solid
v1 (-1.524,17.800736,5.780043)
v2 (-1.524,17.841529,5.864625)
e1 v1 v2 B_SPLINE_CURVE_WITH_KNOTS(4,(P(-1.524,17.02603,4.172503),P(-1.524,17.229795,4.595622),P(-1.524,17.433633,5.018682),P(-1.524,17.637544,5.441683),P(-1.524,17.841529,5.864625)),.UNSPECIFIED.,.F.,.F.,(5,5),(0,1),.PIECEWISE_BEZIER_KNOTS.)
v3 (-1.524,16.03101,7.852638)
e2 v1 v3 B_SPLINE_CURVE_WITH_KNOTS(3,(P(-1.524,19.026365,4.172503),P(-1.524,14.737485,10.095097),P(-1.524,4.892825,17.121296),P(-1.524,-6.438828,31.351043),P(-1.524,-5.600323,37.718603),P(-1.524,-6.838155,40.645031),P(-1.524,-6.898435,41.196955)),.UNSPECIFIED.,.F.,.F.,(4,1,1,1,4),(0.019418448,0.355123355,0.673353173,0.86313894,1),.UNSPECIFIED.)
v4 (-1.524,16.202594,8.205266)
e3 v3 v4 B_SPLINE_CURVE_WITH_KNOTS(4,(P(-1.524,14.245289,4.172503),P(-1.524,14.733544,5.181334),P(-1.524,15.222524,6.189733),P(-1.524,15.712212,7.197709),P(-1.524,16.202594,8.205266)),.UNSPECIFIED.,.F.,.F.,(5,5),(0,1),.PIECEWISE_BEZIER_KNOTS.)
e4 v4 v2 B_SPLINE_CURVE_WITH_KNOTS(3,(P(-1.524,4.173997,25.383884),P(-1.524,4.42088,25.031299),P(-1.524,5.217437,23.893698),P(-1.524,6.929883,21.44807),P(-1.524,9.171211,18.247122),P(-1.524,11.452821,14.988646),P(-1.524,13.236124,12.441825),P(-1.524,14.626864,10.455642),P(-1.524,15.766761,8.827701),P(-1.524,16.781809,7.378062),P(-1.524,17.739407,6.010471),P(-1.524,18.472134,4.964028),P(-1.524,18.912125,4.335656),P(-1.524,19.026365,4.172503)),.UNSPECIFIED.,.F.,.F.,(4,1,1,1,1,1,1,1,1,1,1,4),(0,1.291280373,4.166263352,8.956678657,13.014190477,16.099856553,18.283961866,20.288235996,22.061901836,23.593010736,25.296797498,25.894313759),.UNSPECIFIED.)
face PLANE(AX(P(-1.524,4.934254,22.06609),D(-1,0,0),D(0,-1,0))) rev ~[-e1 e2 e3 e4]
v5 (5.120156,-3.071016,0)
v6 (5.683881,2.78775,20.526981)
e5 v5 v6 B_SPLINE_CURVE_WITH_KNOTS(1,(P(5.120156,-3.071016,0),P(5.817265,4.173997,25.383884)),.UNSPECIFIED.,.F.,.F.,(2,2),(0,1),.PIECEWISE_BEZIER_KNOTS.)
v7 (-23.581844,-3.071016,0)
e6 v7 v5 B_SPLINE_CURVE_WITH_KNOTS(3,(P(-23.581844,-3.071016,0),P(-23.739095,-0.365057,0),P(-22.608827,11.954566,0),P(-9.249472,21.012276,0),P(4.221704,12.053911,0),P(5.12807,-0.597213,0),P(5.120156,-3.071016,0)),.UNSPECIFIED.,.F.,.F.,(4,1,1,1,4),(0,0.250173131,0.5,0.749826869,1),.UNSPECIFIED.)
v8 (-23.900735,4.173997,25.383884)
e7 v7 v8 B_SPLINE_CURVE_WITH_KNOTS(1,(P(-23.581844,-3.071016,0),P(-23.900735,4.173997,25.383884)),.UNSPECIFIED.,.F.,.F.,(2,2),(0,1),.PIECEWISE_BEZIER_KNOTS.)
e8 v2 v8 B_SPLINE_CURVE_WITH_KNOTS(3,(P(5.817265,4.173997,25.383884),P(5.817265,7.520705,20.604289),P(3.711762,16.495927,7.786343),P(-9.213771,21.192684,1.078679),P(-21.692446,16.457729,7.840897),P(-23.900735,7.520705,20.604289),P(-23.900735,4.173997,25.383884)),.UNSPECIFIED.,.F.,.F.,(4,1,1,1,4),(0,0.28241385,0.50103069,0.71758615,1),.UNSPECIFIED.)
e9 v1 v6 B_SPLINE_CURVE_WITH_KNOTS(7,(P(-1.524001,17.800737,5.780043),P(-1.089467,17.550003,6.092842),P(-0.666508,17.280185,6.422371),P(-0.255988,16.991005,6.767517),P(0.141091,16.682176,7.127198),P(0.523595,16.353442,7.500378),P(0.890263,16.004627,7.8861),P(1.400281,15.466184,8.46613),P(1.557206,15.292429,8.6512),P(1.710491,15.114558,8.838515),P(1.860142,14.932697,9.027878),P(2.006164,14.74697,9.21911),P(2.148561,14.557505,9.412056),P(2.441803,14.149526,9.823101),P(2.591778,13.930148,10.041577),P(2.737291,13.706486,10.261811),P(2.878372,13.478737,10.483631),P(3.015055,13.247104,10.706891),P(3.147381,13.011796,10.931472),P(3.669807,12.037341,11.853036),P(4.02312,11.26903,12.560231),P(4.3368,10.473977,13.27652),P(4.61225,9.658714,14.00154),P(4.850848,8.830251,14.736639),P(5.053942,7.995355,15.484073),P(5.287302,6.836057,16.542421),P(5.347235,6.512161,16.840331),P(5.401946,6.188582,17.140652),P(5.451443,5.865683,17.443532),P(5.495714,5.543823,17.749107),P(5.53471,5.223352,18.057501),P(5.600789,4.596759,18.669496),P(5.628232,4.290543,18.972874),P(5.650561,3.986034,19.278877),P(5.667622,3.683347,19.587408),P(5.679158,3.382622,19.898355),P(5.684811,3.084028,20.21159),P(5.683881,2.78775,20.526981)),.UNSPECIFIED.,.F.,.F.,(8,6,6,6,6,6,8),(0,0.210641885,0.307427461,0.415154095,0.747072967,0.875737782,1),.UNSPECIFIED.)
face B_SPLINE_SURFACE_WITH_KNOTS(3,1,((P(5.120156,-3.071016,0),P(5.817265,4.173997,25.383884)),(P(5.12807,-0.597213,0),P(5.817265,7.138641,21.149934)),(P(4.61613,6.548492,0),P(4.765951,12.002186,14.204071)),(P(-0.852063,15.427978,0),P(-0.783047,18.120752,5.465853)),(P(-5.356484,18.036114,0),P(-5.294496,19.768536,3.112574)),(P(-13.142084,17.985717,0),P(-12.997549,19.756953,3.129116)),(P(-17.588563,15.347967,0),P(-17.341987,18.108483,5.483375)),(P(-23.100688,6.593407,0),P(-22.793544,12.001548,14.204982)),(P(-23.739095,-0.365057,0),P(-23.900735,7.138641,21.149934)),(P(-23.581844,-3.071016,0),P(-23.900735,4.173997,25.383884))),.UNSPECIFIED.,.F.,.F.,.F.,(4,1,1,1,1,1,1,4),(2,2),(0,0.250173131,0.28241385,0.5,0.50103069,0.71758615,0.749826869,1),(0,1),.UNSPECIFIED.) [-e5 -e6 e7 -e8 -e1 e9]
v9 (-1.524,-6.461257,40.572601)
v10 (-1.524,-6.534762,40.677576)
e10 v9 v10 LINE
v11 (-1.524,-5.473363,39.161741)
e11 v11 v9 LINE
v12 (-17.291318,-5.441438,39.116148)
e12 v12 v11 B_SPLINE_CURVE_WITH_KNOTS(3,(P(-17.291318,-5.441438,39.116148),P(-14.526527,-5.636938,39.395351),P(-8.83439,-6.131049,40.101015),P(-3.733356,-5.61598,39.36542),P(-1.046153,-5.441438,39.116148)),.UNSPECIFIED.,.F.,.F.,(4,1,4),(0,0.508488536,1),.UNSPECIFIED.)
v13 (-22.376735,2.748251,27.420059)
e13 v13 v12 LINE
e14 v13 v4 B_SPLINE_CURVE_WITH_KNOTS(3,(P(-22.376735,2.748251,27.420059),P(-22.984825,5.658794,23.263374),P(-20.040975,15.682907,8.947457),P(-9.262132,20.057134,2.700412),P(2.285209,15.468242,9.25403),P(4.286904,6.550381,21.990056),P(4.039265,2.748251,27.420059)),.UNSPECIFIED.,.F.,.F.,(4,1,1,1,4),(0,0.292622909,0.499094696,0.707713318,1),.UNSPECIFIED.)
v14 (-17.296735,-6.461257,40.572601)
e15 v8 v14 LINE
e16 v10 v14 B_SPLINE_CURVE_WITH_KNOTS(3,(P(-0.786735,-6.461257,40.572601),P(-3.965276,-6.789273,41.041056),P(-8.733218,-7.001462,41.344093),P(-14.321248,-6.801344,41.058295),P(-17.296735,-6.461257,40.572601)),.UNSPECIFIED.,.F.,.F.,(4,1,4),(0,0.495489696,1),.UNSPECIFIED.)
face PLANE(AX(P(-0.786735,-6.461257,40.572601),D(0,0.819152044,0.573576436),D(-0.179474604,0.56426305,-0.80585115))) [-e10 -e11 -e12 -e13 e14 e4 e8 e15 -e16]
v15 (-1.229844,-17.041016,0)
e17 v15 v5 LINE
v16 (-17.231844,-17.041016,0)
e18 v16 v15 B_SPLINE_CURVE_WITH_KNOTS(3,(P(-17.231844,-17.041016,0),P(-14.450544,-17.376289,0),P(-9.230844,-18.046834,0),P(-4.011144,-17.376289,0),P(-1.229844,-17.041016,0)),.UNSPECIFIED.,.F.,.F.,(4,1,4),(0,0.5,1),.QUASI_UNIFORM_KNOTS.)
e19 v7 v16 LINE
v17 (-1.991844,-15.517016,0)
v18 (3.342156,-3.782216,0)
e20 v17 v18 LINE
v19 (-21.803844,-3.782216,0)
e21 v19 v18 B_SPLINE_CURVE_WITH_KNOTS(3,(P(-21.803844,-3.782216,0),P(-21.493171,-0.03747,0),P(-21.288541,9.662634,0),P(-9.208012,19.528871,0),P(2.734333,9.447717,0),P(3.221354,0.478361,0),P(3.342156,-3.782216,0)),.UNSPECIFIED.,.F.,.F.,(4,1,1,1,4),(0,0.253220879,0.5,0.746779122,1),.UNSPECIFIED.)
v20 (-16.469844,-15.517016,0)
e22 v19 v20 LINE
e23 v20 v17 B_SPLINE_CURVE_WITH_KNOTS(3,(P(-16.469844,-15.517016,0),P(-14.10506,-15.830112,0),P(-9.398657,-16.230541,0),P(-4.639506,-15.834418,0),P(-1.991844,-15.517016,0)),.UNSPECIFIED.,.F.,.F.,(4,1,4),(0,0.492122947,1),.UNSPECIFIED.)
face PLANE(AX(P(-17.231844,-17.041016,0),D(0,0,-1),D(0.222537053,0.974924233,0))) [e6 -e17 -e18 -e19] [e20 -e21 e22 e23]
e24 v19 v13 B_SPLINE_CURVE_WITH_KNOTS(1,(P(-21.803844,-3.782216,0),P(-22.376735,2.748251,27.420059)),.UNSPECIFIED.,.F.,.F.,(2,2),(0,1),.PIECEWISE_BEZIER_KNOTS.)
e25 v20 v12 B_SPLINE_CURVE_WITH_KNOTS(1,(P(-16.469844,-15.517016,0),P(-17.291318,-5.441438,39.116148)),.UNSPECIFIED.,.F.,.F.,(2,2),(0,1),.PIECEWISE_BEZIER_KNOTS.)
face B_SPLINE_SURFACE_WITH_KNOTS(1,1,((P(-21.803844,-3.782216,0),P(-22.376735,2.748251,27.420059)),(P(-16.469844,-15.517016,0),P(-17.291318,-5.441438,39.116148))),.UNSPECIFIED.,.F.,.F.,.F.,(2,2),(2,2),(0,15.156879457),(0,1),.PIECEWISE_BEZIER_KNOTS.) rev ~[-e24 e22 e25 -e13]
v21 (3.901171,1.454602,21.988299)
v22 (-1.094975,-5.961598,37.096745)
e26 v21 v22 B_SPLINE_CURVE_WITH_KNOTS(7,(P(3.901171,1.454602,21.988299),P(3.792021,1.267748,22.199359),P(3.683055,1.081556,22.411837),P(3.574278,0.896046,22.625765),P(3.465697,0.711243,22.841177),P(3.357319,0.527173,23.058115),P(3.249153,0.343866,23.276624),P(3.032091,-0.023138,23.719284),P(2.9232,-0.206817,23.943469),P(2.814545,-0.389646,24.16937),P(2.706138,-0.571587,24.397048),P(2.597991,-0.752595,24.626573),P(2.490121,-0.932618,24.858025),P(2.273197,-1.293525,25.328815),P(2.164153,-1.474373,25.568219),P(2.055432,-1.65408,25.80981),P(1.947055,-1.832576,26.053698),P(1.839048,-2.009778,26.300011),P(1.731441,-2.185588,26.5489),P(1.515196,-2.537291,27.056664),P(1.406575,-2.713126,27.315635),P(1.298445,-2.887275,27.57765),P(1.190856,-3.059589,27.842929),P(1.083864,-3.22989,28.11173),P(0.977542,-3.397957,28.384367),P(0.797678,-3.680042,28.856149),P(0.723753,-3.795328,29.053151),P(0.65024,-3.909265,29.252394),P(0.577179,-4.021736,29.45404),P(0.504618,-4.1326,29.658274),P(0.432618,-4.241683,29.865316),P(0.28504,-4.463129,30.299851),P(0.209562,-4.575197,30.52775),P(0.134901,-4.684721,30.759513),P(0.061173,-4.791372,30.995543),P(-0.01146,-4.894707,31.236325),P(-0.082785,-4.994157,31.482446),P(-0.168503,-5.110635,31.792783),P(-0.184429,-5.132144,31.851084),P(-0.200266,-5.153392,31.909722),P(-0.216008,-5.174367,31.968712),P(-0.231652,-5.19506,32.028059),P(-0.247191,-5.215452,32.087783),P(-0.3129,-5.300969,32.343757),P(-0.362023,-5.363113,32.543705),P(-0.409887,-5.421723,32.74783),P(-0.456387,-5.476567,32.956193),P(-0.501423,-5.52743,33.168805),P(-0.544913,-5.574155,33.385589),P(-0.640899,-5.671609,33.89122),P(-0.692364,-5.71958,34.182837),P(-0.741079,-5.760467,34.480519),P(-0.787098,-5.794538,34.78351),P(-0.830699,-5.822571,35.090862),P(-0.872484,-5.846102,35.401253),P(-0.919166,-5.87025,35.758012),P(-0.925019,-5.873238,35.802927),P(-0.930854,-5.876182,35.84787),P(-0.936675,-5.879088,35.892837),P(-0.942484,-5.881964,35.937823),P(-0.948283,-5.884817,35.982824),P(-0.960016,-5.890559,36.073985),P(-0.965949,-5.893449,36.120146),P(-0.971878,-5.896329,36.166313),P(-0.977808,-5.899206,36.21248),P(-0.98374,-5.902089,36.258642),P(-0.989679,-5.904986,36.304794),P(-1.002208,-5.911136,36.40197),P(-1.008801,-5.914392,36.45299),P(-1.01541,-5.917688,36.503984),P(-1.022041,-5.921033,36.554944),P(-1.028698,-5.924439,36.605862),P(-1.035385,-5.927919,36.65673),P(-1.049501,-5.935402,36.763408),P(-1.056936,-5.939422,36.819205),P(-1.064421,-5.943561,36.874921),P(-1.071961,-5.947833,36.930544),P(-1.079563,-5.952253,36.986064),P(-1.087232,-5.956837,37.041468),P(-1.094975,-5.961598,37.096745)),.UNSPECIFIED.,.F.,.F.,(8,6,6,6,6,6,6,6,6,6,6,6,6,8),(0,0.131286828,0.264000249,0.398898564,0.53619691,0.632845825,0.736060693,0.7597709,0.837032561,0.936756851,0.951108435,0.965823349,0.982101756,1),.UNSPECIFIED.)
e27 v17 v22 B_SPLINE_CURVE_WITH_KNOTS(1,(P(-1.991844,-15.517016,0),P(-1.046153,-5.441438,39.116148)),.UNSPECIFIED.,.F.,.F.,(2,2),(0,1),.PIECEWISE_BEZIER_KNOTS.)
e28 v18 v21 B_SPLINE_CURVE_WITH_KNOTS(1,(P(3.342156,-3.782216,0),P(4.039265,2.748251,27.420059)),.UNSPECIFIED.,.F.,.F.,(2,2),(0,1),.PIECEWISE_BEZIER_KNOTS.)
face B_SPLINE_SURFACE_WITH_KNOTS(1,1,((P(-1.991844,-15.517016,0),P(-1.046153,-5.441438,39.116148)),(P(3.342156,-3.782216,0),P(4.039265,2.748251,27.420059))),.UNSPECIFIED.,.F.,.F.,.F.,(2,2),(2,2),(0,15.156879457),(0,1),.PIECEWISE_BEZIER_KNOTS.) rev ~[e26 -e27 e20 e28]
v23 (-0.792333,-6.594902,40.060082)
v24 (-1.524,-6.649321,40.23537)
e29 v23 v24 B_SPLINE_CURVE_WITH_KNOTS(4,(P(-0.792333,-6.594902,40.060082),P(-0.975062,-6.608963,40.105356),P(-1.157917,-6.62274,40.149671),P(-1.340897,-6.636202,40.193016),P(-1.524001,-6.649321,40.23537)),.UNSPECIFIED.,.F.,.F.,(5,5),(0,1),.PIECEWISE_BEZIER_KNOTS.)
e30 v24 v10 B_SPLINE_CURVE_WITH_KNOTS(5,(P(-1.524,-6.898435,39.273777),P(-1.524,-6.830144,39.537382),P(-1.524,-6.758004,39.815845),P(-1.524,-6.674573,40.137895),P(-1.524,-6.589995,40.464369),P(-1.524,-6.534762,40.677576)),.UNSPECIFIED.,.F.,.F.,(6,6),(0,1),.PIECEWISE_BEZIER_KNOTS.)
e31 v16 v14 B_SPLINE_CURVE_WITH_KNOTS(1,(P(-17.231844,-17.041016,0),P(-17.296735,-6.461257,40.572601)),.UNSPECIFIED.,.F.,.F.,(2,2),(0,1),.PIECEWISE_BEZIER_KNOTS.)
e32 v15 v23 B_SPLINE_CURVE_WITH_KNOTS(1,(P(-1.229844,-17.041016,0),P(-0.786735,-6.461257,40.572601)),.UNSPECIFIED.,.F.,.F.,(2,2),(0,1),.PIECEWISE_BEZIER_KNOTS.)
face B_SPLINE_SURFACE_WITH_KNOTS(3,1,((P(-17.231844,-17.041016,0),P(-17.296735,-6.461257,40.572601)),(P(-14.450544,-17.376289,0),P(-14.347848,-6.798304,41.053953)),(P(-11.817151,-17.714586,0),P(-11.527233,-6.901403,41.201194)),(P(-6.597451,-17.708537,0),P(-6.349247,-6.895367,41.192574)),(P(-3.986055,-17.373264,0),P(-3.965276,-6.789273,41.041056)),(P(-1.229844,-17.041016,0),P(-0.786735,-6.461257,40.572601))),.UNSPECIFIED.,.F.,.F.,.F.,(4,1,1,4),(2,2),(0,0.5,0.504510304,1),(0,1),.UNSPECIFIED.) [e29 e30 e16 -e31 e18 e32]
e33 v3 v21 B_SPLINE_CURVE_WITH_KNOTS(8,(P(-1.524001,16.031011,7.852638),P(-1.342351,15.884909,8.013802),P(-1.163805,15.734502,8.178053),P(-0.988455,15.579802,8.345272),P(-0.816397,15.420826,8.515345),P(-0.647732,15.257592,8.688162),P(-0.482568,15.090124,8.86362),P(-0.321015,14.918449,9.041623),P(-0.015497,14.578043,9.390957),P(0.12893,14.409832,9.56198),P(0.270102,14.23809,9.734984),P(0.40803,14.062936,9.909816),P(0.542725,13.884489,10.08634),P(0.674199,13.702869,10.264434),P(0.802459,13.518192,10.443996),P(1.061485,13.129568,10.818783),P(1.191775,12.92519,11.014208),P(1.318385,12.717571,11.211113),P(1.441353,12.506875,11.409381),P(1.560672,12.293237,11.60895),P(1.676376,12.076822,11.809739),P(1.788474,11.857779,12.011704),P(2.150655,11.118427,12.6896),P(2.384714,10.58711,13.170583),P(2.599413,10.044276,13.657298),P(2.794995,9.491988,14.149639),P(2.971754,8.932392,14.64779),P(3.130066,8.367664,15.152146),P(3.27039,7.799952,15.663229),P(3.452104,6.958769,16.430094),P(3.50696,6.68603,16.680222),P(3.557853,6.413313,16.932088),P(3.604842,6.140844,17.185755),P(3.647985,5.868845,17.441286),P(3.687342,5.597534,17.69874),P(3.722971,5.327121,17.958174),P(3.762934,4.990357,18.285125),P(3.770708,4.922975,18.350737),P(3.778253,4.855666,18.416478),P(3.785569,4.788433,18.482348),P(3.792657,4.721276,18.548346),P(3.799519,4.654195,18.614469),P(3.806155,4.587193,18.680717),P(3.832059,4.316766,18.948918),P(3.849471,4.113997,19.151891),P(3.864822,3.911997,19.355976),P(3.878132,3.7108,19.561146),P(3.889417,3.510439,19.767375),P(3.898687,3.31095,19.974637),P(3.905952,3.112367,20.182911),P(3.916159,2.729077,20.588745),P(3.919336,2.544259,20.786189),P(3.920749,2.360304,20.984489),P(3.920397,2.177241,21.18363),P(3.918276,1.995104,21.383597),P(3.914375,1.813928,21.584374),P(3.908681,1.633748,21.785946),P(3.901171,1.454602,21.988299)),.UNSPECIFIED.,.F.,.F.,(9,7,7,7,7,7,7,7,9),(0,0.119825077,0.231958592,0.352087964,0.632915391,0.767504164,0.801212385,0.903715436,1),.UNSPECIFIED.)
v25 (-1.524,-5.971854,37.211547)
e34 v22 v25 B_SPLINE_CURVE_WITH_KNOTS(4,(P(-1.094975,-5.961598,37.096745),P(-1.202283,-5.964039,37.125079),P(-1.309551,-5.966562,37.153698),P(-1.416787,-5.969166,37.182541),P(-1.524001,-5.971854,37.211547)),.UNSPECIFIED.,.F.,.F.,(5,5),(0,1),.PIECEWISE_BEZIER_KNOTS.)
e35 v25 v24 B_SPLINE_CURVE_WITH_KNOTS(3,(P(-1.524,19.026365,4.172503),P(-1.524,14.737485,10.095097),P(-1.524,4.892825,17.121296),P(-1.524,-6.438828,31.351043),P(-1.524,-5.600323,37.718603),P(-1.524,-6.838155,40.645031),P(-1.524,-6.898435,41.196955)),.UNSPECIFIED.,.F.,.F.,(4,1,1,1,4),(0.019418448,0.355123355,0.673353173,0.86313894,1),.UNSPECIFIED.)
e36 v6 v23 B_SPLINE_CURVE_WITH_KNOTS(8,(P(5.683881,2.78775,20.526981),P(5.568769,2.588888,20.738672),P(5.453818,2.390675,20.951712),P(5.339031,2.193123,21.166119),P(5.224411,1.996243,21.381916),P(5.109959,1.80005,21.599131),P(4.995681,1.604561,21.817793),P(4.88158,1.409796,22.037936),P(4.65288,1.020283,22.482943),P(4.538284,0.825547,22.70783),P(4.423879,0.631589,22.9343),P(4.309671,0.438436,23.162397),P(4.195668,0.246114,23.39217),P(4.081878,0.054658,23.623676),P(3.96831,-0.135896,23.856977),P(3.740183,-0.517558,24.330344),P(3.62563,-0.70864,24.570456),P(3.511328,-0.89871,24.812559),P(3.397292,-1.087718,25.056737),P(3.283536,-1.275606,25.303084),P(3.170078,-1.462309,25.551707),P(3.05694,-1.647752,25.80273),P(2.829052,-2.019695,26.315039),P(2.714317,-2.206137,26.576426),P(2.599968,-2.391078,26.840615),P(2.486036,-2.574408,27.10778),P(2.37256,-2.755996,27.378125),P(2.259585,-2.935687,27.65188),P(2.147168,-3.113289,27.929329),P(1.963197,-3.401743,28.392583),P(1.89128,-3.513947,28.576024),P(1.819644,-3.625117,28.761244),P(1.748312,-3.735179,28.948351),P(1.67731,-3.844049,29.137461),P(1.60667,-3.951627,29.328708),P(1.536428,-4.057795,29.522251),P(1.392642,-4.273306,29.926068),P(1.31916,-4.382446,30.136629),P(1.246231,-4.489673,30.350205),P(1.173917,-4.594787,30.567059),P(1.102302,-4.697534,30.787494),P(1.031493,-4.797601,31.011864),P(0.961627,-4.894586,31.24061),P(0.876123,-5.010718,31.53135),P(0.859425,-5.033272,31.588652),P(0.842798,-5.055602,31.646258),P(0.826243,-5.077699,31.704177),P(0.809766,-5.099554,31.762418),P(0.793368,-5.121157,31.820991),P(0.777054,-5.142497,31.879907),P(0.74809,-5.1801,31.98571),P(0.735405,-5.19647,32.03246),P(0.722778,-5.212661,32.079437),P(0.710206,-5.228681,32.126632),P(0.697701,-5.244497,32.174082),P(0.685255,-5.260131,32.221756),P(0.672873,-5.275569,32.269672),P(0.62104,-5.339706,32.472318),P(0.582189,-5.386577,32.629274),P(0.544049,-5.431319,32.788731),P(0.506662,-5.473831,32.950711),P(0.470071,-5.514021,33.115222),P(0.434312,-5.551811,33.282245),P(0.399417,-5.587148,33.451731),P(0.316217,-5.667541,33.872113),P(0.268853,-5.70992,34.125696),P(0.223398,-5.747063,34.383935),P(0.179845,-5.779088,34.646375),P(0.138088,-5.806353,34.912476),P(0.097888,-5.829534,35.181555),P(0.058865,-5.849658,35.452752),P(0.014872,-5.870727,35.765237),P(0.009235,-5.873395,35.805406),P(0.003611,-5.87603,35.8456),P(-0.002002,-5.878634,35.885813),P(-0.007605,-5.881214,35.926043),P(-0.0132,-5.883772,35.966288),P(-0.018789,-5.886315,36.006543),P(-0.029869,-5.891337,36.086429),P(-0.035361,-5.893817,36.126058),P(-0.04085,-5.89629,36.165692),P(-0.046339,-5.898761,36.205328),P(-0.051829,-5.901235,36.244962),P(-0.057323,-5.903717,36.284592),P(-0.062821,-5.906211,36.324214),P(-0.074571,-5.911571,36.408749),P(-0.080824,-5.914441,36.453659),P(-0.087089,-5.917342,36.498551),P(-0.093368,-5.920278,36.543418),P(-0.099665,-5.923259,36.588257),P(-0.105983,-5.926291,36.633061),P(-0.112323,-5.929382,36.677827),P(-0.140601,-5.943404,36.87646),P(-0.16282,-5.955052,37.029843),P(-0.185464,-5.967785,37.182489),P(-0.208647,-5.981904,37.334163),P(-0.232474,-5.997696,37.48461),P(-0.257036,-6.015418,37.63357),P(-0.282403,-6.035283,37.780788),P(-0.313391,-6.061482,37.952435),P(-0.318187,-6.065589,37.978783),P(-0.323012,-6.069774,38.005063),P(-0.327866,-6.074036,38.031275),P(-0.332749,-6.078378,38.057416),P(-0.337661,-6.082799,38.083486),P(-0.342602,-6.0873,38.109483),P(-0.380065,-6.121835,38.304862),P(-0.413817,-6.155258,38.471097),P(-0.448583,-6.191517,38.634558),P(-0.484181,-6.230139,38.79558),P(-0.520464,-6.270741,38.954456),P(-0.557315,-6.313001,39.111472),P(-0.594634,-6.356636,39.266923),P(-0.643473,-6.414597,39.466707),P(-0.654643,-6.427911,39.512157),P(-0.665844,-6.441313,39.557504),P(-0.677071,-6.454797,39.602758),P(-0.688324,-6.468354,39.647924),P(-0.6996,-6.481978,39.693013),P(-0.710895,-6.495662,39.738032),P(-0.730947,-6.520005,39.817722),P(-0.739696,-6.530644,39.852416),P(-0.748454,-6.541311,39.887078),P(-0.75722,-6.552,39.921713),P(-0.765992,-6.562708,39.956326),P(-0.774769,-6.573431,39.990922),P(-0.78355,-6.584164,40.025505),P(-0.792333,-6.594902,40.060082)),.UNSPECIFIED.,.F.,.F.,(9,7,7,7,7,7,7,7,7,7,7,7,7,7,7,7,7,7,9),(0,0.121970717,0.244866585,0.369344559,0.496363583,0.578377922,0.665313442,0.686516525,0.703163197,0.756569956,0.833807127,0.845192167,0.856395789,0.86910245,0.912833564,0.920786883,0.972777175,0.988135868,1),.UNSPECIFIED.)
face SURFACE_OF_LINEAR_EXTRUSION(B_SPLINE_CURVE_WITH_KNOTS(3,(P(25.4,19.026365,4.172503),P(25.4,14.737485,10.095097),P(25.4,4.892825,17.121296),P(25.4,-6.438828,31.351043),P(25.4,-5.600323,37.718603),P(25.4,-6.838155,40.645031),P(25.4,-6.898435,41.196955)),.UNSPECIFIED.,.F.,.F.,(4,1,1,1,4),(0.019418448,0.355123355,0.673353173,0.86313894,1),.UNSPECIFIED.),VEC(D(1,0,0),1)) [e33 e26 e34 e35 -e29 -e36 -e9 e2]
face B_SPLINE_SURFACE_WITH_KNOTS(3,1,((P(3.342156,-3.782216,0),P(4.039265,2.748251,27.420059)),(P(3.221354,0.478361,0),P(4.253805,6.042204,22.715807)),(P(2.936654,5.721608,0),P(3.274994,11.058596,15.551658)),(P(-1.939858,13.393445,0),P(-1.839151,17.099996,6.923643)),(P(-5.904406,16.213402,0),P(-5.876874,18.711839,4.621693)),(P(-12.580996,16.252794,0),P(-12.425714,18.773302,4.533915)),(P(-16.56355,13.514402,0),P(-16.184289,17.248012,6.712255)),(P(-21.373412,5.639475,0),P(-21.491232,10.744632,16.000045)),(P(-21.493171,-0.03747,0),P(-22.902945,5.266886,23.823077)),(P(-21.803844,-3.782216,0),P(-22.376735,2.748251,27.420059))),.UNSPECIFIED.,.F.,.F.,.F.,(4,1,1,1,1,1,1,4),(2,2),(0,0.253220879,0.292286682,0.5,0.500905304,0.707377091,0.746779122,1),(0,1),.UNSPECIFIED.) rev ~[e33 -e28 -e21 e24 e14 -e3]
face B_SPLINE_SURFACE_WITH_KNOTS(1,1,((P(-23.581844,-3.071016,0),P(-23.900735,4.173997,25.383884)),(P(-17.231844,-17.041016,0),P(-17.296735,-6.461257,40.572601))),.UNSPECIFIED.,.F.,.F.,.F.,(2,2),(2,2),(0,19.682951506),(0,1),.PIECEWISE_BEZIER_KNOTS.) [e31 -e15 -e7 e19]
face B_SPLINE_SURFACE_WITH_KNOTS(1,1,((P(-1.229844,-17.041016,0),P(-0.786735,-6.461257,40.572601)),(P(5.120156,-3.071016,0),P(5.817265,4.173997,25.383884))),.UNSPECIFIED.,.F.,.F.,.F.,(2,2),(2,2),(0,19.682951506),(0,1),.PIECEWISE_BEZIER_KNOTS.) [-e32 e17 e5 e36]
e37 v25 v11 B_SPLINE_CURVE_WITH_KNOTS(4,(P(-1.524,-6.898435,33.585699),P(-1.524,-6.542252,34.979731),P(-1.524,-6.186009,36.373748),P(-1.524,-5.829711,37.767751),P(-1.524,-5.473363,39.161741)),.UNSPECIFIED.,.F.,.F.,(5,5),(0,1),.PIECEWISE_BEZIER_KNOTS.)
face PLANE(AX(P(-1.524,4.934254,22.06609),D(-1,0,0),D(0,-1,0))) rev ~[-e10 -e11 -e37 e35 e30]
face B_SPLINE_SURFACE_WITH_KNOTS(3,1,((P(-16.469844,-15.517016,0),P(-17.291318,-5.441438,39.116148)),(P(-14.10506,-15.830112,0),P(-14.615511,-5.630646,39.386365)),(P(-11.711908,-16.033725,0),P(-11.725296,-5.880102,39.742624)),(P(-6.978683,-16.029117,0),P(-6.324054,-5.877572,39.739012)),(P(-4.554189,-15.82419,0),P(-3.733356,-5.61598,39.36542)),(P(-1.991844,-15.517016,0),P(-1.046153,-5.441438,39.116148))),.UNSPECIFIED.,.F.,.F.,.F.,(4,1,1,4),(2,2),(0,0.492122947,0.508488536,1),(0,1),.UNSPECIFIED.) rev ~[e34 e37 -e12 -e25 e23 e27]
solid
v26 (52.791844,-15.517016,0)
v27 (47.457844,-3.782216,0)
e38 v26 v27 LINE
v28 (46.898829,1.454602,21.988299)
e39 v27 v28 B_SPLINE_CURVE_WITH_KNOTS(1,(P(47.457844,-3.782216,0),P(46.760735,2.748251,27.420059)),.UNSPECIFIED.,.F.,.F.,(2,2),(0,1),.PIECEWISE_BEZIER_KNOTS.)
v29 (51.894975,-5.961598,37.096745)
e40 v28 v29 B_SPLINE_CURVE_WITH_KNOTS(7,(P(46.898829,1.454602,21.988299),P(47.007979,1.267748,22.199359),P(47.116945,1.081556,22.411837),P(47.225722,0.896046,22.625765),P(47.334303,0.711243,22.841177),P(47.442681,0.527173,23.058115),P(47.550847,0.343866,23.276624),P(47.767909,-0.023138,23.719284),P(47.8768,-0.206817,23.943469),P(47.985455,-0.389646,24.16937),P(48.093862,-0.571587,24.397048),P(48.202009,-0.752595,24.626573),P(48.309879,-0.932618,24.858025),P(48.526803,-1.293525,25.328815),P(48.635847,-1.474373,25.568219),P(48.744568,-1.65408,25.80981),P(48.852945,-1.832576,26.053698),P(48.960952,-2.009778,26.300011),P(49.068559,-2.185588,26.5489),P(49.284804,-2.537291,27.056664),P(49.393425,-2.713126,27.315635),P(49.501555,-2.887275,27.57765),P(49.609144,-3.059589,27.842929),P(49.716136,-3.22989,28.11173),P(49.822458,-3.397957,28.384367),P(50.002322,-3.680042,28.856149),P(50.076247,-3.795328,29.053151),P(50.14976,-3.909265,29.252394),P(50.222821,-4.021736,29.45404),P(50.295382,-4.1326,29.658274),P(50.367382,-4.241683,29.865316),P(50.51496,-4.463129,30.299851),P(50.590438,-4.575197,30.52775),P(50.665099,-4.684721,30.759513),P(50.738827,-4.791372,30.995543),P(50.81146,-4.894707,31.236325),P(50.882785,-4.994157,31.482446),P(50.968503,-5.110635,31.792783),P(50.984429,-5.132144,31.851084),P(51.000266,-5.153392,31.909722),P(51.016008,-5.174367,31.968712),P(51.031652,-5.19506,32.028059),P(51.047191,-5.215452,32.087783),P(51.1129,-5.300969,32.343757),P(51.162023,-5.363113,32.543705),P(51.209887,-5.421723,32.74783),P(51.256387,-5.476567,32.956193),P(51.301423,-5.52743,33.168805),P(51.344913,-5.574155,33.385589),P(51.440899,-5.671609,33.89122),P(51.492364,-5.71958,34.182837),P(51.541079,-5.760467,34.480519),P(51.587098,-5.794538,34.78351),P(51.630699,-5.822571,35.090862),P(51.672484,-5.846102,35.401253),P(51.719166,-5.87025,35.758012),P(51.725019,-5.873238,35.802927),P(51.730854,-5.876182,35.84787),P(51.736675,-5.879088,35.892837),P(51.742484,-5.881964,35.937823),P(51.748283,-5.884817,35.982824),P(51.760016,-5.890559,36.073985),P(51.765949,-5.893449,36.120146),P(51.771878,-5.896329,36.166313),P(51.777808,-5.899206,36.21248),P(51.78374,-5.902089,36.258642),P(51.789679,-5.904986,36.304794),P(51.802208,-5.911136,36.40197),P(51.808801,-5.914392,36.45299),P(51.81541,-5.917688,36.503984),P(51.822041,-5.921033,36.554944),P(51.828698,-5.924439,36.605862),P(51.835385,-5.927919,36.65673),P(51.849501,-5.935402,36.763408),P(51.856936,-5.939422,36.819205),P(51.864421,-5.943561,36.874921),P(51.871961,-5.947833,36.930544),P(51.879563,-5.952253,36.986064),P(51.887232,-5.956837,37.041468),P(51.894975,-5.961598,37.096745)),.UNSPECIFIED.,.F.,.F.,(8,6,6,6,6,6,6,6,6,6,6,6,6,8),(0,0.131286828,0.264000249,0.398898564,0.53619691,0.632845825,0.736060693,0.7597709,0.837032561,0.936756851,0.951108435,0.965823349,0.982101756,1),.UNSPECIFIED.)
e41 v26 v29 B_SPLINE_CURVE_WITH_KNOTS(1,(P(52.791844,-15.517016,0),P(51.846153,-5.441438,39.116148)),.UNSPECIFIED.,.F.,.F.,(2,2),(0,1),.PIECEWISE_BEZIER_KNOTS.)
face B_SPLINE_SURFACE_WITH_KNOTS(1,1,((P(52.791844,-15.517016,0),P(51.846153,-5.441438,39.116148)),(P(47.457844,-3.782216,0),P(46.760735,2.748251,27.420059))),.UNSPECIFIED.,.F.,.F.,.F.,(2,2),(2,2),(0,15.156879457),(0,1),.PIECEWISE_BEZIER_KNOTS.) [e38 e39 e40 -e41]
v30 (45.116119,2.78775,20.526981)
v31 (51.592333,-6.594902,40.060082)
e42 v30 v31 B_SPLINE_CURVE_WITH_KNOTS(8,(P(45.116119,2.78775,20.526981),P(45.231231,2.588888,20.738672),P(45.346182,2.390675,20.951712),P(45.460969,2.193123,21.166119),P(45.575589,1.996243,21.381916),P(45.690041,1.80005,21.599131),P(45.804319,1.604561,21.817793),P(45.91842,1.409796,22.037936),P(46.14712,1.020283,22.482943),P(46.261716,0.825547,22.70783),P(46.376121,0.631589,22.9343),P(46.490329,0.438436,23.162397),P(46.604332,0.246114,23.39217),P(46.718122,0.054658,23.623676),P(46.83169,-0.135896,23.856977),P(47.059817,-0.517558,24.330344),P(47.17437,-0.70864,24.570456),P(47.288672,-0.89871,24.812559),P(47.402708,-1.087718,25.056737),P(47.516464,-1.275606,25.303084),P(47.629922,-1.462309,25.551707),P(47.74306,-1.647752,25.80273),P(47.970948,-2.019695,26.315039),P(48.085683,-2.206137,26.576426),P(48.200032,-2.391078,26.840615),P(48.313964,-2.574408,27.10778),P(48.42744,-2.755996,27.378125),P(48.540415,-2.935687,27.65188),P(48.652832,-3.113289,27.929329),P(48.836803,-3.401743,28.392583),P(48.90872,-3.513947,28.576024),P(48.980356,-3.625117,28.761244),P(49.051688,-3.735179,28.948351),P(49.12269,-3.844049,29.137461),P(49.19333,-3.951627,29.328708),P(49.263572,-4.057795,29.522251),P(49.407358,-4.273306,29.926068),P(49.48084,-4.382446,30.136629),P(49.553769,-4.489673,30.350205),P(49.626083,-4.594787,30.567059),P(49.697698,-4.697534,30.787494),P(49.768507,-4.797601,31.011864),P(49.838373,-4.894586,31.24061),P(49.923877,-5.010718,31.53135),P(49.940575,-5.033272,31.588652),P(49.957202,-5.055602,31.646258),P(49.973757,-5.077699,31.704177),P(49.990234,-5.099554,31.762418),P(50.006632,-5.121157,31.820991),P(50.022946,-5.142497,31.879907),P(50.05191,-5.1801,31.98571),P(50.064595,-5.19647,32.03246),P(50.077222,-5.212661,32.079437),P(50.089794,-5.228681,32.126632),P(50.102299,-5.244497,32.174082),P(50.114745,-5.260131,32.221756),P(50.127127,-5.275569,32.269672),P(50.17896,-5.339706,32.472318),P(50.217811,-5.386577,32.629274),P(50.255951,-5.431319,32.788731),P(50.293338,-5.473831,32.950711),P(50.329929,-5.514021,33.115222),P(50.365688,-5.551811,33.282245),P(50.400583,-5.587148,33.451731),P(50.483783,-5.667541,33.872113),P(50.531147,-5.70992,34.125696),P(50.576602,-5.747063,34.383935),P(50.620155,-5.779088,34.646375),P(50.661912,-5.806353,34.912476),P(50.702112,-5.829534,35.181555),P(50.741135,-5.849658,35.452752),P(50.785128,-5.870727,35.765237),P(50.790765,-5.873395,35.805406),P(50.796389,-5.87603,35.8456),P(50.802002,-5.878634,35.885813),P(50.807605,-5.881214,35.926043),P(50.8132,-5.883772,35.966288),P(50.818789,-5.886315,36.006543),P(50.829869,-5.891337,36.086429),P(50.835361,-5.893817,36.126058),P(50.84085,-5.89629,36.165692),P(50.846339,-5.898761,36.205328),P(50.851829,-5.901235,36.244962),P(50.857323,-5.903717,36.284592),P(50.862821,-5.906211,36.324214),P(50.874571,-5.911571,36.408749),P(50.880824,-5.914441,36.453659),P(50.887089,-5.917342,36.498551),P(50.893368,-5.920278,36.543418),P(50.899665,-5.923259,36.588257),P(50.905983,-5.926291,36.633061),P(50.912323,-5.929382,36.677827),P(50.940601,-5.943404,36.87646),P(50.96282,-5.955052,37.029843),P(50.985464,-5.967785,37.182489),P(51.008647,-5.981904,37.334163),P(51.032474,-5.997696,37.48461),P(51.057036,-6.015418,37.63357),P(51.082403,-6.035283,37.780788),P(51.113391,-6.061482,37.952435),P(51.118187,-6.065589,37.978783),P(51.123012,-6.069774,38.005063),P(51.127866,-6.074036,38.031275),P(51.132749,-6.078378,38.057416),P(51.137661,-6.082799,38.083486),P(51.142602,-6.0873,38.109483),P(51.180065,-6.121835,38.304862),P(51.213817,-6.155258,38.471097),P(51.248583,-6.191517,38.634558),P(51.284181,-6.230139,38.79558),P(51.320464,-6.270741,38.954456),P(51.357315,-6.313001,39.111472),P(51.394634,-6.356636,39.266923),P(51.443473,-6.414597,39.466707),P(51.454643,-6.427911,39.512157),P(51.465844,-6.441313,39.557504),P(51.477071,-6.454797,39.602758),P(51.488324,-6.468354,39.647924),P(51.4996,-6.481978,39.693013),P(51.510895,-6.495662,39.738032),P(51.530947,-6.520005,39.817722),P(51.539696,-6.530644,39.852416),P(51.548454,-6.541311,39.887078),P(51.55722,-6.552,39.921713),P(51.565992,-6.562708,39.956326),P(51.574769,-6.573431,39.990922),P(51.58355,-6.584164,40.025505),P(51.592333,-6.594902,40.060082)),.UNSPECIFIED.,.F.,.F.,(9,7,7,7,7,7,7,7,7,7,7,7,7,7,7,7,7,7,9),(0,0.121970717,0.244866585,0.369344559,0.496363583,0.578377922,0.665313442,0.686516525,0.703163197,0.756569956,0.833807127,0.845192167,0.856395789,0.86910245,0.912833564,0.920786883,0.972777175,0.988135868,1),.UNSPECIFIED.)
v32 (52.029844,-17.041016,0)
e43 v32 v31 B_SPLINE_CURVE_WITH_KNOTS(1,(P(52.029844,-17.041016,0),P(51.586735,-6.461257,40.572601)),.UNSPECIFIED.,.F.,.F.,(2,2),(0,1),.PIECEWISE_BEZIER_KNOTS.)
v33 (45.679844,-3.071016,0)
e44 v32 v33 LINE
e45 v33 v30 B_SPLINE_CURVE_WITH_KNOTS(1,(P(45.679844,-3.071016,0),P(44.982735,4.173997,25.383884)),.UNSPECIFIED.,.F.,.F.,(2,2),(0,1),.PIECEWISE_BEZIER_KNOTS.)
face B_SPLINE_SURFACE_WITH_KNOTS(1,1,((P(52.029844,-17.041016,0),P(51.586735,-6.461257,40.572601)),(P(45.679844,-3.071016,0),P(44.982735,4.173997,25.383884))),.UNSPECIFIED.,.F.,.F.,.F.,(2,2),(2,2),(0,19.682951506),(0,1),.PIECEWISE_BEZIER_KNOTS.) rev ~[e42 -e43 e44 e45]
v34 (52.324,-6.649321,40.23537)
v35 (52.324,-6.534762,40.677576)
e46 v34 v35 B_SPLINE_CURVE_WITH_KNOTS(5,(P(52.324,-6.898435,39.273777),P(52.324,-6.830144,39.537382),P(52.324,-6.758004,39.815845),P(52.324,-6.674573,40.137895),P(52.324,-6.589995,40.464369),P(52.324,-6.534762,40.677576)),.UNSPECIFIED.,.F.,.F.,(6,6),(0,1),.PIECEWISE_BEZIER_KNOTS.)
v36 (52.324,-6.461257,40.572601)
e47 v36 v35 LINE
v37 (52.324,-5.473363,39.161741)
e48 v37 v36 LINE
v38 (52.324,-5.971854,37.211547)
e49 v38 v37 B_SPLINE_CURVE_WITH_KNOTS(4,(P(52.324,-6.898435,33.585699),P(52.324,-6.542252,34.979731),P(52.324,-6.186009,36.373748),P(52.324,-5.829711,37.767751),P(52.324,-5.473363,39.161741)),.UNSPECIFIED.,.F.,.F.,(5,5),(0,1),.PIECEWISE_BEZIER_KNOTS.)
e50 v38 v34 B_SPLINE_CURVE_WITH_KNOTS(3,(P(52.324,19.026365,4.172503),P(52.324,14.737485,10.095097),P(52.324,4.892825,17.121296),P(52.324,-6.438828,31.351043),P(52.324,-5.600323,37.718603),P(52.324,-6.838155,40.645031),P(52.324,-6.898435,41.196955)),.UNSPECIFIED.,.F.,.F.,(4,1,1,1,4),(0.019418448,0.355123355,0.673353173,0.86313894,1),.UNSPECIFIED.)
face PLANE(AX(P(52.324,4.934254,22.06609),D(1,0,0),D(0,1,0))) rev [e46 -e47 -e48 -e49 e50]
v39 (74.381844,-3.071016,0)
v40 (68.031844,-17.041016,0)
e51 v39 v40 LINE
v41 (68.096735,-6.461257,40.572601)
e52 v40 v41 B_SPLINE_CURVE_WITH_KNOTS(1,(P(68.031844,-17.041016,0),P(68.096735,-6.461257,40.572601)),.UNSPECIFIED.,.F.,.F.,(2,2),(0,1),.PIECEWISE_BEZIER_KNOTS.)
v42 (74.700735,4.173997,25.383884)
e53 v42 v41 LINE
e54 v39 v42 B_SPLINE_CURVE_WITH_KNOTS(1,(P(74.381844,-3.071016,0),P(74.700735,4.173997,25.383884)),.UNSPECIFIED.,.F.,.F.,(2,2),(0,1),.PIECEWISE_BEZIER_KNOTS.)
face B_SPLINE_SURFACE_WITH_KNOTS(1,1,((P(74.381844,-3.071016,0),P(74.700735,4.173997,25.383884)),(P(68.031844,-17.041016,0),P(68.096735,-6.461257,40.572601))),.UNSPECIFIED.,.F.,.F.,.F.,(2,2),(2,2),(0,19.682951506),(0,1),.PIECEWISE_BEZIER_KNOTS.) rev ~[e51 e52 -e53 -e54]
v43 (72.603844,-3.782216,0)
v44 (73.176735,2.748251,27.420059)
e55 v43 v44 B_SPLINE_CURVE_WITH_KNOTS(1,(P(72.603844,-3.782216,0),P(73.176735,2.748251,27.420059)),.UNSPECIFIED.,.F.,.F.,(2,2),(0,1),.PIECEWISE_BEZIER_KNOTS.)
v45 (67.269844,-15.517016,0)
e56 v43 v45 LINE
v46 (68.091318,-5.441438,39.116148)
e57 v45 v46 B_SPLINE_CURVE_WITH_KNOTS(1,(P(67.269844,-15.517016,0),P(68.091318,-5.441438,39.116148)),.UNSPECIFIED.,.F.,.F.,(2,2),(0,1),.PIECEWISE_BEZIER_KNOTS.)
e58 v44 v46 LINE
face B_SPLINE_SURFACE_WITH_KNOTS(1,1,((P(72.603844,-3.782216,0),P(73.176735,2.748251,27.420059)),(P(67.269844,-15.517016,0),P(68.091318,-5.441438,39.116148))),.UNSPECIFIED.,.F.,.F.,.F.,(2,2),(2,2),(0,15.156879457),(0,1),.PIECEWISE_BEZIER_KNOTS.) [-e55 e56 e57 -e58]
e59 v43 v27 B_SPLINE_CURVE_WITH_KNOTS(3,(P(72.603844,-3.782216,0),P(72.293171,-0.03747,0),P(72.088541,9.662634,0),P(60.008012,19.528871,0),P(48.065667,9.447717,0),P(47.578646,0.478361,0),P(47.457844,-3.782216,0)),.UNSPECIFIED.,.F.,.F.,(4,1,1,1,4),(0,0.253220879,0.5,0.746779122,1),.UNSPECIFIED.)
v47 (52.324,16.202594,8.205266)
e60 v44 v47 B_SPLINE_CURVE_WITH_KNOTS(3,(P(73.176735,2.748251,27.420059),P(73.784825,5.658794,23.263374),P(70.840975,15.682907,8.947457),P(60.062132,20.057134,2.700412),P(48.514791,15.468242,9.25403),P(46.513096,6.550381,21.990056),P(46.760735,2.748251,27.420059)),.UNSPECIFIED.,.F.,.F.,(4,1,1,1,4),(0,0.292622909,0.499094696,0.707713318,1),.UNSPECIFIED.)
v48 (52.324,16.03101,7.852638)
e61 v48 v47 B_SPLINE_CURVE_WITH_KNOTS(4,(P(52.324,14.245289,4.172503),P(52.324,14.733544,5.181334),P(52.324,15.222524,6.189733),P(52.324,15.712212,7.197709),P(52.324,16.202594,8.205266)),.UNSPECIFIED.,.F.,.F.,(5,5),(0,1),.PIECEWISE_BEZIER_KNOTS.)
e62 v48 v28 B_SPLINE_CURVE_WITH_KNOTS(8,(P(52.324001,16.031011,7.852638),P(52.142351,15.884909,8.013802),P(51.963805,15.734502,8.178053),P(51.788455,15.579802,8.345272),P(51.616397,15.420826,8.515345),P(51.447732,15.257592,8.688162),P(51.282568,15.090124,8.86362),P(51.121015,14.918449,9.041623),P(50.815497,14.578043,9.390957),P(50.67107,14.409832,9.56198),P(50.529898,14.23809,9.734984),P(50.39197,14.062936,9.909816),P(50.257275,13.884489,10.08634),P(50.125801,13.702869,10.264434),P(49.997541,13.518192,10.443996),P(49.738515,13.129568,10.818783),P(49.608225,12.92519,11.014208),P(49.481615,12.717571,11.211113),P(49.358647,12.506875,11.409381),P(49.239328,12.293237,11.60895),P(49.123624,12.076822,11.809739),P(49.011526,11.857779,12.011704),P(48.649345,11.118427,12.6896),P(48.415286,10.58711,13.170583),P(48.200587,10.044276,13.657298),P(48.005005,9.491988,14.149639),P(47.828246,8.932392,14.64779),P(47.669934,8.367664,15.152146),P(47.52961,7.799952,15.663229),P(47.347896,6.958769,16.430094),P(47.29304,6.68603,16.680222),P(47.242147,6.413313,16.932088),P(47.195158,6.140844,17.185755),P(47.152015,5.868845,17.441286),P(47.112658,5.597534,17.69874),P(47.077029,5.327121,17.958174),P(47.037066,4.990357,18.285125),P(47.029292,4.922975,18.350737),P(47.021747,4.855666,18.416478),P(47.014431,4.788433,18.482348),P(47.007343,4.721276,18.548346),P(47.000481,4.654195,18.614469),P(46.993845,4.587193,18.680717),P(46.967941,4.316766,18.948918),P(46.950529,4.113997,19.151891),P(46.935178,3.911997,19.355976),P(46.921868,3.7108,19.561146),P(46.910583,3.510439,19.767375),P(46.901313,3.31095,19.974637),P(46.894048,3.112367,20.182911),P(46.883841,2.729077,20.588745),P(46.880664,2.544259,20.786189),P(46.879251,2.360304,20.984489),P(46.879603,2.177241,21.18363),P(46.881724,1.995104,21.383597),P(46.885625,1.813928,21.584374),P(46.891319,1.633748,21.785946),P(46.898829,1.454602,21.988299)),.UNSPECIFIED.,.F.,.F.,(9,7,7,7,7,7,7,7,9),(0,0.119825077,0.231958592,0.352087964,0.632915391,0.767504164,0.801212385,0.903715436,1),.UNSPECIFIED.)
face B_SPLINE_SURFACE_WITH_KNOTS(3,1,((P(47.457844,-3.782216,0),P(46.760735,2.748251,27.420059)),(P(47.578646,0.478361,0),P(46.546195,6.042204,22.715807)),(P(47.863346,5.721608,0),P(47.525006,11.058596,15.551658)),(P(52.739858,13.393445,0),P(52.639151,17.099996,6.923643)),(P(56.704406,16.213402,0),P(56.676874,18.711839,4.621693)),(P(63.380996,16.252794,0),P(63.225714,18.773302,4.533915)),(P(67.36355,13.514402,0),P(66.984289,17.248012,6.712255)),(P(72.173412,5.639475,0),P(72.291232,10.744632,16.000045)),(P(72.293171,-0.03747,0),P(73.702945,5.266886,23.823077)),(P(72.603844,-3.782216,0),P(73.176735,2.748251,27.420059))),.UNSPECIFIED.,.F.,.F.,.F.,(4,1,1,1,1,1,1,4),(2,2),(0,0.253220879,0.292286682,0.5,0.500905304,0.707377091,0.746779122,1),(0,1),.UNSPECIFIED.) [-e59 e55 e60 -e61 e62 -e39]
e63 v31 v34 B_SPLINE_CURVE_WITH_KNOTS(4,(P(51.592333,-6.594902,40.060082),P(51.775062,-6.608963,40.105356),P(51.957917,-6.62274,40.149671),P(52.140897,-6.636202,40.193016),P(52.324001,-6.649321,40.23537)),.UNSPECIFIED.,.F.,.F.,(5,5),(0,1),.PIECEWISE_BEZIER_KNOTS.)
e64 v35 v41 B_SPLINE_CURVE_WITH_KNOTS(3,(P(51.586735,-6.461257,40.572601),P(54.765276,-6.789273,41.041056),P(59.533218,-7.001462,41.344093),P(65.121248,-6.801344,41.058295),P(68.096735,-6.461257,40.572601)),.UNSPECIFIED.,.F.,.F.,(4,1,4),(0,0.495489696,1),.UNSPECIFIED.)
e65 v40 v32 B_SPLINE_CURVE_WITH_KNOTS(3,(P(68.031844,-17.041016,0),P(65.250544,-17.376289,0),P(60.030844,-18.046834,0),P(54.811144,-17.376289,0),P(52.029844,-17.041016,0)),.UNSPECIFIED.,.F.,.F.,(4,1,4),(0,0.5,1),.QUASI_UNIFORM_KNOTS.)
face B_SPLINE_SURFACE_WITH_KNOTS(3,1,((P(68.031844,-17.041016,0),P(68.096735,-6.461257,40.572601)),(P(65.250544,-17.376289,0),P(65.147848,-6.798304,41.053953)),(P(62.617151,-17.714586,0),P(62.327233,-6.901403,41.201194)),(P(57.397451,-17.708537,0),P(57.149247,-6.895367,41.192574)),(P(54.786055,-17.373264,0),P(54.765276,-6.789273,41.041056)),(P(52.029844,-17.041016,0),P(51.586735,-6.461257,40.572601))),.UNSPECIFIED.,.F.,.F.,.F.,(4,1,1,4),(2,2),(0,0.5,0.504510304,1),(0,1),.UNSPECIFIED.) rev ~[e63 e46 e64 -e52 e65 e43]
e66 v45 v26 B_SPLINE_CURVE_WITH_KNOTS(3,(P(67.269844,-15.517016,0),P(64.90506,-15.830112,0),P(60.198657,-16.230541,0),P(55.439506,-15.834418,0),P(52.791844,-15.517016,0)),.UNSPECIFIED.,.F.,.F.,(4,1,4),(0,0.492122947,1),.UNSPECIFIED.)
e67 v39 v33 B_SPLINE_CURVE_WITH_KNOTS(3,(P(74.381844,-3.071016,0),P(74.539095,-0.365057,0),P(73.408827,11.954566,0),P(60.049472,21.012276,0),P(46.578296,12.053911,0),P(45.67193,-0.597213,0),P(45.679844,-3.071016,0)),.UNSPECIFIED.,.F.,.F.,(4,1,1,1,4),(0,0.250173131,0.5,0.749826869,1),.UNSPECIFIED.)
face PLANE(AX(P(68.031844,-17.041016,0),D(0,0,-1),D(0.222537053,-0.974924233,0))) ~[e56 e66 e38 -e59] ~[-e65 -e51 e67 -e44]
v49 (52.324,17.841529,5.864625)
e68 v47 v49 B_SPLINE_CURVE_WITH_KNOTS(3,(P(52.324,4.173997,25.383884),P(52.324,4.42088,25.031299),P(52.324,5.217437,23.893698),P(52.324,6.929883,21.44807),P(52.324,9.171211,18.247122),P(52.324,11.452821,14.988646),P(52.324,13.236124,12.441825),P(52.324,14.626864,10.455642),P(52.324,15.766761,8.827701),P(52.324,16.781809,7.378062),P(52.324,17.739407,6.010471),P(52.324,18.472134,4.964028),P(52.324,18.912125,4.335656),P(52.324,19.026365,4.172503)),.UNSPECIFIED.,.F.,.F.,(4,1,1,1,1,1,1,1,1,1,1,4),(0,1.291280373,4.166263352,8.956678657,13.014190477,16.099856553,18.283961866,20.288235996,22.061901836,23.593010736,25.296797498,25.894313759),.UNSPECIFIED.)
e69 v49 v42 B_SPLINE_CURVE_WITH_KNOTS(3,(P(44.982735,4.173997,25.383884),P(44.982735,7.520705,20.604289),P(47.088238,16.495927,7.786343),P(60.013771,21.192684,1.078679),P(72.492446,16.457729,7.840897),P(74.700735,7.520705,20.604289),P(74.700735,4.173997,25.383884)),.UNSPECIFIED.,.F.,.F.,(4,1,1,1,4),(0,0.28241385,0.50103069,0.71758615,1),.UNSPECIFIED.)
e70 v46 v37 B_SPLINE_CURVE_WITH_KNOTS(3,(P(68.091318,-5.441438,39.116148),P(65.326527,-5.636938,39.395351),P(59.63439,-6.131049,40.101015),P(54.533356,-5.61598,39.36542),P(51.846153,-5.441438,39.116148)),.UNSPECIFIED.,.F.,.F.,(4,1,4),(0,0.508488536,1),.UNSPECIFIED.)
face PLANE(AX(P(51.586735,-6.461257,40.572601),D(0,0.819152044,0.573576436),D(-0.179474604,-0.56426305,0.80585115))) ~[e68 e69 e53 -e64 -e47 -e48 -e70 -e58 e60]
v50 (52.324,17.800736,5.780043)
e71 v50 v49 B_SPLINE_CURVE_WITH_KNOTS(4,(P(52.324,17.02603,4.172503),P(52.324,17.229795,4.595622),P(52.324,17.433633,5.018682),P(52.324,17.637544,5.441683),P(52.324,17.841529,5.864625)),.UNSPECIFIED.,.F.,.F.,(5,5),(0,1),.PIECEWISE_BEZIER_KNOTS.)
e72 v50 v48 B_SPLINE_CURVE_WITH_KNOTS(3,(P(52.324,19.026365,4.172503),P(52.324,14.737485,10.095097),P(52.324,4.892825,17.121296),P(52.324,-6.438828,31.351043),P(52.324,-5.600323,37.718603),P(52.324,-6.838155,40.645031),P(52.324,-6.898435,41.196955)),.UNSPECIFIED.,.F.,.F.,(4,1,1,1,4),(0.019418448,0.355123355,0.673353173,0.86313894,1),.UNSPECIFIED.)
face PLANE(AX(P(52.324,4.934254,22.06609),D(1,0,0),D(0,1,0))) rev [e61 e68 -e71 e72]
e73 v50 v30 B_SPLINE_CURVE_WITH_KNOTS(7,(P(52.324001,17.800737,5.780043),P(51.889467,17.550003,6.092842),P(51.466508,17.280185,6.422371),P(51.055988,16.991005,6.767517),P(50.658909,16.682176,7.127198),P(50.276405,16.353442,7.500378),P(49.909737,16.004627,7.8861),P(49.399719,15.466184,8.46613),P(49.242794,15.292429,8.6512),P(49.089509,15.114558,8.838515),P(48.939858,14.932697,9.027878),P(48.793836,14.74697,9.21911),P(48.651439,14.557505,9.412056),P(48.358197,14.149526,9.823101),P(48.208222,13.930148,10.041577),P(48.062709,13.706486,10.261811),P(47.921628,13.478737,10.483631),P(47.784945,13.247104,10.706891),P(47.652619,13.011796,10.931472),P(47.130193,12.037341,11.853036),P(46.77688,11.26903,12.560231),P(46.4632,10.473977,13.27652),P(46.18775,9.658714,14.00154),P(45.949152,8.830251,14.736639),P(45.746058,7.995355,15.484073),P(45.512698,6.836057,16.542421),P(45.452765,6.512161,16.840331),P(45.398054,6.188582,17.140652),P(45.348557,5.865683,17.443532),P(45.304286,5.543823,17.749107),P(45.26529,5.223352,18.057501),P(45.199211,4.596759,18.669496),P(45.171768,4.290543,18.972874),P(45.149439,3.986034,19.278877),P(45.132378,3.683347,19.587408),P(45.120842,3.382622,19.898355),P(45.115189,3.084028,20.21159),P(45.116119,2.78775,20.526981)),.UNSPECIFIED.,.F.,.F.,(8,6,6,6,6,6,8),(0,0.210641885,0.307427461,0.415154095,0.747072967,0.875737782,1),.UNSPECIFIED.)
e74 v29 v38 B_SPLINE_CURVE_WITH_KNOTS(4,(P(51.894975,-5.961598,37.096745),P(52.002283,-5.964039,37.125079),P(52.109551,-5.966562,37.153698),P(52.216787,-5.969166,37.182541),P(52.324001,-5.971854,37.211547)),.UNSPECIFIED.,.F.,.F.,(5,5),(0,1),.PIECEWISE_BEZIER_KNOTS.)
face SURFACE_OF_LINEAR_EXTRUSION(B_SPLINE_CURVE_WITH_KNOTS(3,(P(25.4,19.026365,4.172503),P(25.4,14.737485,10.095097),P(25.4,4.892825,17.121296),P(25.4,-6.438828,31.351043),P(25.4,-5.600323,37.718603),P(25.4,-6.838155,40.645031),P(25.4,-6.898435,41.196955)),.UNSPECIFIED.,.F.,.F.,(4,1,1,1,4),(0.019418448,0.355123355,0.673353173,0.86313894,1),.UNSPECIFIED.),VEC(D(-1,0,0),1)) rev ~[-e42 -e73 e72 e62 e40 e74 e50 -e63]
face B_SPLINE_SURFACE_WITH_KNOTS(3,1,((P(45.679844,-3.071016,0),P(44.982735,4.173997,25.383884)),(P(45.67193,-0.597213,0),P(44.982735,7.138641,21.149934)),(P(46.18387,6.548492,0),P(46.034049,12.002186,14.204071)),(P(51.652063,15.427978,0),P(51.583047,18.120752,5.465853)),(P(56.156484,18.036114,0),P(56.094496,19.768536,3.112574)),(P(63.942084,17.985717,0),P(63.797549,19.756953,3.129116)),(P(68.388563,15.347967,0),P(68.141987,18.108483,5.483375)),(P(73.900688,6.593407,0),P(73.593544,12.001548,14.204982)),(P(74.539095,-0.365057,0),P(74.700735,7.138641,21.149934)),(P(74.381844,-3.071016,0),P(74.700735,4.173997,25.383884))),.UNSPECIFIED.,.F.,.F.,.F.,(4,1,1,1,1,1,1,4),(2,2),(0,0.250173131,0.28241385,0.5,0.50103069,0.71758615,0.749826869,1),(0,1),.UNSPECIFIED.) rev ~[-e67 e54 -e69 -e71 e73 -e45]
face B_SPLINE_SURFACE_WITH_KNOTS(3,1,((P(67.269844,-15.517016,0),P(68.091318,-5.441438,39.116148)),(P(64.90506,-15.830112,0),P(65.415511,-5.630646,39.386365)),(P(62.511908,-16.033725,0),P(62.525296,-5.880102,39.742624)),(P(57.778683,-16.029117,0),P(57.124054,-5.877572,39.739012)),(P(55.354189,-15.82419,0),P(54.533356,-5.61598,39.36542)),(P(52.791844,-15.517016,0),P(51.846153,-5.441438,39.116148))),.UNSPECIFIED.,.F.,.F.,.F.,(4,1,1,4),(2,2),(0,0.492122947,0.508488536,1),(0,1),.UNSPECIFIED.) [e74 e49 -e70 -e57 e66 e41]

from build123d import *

# Parameters (mm, degrees)
F9_DEPTH = 26.924


with BuildPart() as f3:
    # F0 (on Top) → F3 section 0
    with BuildSketch(Plane.XY):
        with BuildLine():
            add(Edge.make_bspline(
                [(-17.2318438232, -17.0410163701), (-14.4505438232, -17.3762887716), (-9.2308438232, -18.0468335748), (-4.0111438232, -17.3762887716), (-1.2298438232, -17.0410163701)],
                knots=[0, 0, 0, 0, 0.5, 1, 1, 1, 1], degree=3))
            Line((-1.2298438232, -17.0410163701), (5.1201561768, -3.0710163701))
            add(Edge.make_bspline(
                [(-23.5818438232, -3.0710163701), (-23.739094541, -0.365056948), (-22.6088271258, 11.9545659781), (-9.2494721641, 21.012276346), (4.221704481, 12.0539108059), (5.1280701966, -0.597213455), (5.1201561768, -3.0710163701)],
                knots=[0, 0, 0, 0, 0.2501731306, 0.5, 0.7498268694, 1, 1, 1, 1], degree=3))
            Line((-23.5818438232, -3.0710163701), (-17.2318438232, -17.0410163701))
        make_face()
    # F2 (on line) → F3 section 1
    with BuildSketch(Plane(origin=(0, 14.7273180684, 10.3121791291), x_dir=(-1, 0, 0), z_dir=(0, 0.8191520443, 0.5735764364))):
        with BuildLine():
            Line((0.7867354634, 36.9411537644), (-5.8172645366, 18.3991537644))
            add(Edge.make_bspline(
                [(-5.8172645366, 18.3991537644), (-5.8172645366, 12.5643463727), (-3.7117618737, -3.0834761352), (9.2137705416, -11.2720218157), (21.6924461149, -3.0168785507), (23.9007354634, 12.5643463727), (23.9007354634, 18.3991537644)],
                knots=[0, 0, 0, 0, 0.2824138503, 0.5010306901, 0.7175861497, 1, 1, 1, 1], degree=3))
            Line((23.9007354634, 18.3991537644), (17.2967354634, 36.9411537644))
            add(Edge.make_bspline(
                [(0.7867354634, 36.9411537644), (3.9652762833, 37.5130314247), (8.7332178938, 37.8829722726), (14.3212476441, 37.5340772733), (17.2967354634, 36.9411537644)],
                knots=[0, 0, 0, 0, 0.4954896958, 1, 1, 1, 1], degree=3))
        make_face()
    loft()

    # F4 (on Top) → F6 section 0
    with BuildSketch(Plane.XY):
        with BuildLine():
            Line((-21.8038438232, -3.7822163701), (-16.4698438232, -15.5170163701))
            add(Edge.make_bspline(
                [(-16.4698438232, -15.5170163701), (-14.1050599772, -15.8301115392), (-9.3986568944, -16.2305407119), (-4.6395059533, -15.8344175103), (-1.9918438232, -15.5170163701)],
                knots=[0, 0, 0, 0, 0.4921229468, 1, 1, 1, 1], degree=3))
            Line((-1.9918438232, -15.5170163701), (3.3421561768, -3.7822163701))
            add(Edge.make_bspline(
                [(-21.8038438232, -3.7822163701), (-21.4931708929, -0.037470309), (-21.2885406673, 9.6626340155), (-9.2080117476, 19.5288708791), (2.7343327321, 9.4477169794), (3.2213539996, 0.4783610786), (3.3421561768, -3.7822163701)],
                knots=[0, 0, 0, 0, 0.2532208785, 0.5, 0.7467791215, 1, 1, 1, 1], degree=3))
        make_face()
    # F5 (on line) → F6 section 1
    with BuildSketch(Plane(origin=(0, 14.7273180684, 10.3121791291), x_dir=(-1, 0, 0), z_dir=(0, 0.8191520443, 0.5735764364))):
        with BuildLine():
            Line((22.3767354634, 20.8848653279), (17.2913176641, 35.1631537644))
            add(Edge.make_bspline(
                [(17.2913176641, 35.1631537644), (14.5265273432, 35.5039973924), (8.8343900935, 36.3654533862), (3.7333560275, 35.4674586455), (1.0461532627, 35.1631537644)],
                knots=[0, 0, 0, 0, 0.5084885362, 1, 1, 1, 1], degree=3))
            Line((1.0461532627, 35.1631537644), (-4.0392645366, 20.8848653279))
            add(Edge.make_bspline(
                [(22.3767354634, 20.8848653279), (22.9848253963, 15.8104892947), (20.0409746065, -1.6660183303), (9.2621321012, -9.292251283), (-2.2852094296, -1.2917615595), (-4.2869037468, 14.2560549708), (-4.0392645366, 20.8848653279)],
                knots=[0, 0, 0, 0, 0.2926229093, 0.4990946957, 0.7077133178, 1, 1, 1, 1], degree=3))
        make_face()
    loft(mode=Mode.SUBTRACT)

    # F8 (on offset) → F9 (cut)
    with BuildSketch(Plane.YZ.offset(25.4)):
        with BuildLine():
            add(Edge.make_bspline(
                [(4.1739970203, 25.3838835484), (4.4208796852, 25.0312985627), (5.217436514, 23.8936975153), (6.9298831226, 21.4480703046), (9.1712114563, 18.2471217124), (11.4528207433, 14.9886459569), (13.2361240313, 12.4418249208), (14.6268644003, 10.4556418349), (15.7667606293, 8.8277013077), (16.781809073, 7.378061896), (17.7394066922, 6.0104707649), (18.4721337498, 4.9640280781), (18.9121248119, 4.3356557197), (19.0263652277, 4.1725034976)],
                knots=[0, 0, 0, 0, 1.291280373, 4.1662633525, 8.9566786572, 13.0141904769, 16.0998565534, 18.2839618664, 20.2882359965, 22.0619018364, 23.5930107364, 25.2967974982, 25.8943137586, 25.8943137586, 25.8943137586, 25.8943137586], degree=3))
            Line((4.1739970203, 25.3838835484), (-6.4612572625, 40.5726007536))
            Line((-6.4612572625, 40.5726007536), (-6.8984349978, 41.1969552649))
            add(Edge.make_bspline(
                [(19.0263652277, 4.1725034976), (14.7374845788, 10.0950972506), (4.8928253189, 17.1212957223), (-6.4388278411, 31.3510426763), (-5.6003234099, 37.7186033053), (-6.8381553258, 40.6450309359), (-6.8984349978, 41.1969552649)],
                knots=[0.0194184477, 0.0194184477, 0.0194184477, 0.0194184477, 0.3551233547, 0.6733531725, 0.8631389398, 1, 1, 1, 1], degree=3))
        make_face()
    extrude(amount=-F9_DEPTH, mode=Mode.SUBTRACT)


with BuildPart() as f10_1:
    # F10: instance of F3
    add(f3.part.mirror(Plane.YZ.offset(25.4)))


solid = Compound([f3.part, f10_1.part])
